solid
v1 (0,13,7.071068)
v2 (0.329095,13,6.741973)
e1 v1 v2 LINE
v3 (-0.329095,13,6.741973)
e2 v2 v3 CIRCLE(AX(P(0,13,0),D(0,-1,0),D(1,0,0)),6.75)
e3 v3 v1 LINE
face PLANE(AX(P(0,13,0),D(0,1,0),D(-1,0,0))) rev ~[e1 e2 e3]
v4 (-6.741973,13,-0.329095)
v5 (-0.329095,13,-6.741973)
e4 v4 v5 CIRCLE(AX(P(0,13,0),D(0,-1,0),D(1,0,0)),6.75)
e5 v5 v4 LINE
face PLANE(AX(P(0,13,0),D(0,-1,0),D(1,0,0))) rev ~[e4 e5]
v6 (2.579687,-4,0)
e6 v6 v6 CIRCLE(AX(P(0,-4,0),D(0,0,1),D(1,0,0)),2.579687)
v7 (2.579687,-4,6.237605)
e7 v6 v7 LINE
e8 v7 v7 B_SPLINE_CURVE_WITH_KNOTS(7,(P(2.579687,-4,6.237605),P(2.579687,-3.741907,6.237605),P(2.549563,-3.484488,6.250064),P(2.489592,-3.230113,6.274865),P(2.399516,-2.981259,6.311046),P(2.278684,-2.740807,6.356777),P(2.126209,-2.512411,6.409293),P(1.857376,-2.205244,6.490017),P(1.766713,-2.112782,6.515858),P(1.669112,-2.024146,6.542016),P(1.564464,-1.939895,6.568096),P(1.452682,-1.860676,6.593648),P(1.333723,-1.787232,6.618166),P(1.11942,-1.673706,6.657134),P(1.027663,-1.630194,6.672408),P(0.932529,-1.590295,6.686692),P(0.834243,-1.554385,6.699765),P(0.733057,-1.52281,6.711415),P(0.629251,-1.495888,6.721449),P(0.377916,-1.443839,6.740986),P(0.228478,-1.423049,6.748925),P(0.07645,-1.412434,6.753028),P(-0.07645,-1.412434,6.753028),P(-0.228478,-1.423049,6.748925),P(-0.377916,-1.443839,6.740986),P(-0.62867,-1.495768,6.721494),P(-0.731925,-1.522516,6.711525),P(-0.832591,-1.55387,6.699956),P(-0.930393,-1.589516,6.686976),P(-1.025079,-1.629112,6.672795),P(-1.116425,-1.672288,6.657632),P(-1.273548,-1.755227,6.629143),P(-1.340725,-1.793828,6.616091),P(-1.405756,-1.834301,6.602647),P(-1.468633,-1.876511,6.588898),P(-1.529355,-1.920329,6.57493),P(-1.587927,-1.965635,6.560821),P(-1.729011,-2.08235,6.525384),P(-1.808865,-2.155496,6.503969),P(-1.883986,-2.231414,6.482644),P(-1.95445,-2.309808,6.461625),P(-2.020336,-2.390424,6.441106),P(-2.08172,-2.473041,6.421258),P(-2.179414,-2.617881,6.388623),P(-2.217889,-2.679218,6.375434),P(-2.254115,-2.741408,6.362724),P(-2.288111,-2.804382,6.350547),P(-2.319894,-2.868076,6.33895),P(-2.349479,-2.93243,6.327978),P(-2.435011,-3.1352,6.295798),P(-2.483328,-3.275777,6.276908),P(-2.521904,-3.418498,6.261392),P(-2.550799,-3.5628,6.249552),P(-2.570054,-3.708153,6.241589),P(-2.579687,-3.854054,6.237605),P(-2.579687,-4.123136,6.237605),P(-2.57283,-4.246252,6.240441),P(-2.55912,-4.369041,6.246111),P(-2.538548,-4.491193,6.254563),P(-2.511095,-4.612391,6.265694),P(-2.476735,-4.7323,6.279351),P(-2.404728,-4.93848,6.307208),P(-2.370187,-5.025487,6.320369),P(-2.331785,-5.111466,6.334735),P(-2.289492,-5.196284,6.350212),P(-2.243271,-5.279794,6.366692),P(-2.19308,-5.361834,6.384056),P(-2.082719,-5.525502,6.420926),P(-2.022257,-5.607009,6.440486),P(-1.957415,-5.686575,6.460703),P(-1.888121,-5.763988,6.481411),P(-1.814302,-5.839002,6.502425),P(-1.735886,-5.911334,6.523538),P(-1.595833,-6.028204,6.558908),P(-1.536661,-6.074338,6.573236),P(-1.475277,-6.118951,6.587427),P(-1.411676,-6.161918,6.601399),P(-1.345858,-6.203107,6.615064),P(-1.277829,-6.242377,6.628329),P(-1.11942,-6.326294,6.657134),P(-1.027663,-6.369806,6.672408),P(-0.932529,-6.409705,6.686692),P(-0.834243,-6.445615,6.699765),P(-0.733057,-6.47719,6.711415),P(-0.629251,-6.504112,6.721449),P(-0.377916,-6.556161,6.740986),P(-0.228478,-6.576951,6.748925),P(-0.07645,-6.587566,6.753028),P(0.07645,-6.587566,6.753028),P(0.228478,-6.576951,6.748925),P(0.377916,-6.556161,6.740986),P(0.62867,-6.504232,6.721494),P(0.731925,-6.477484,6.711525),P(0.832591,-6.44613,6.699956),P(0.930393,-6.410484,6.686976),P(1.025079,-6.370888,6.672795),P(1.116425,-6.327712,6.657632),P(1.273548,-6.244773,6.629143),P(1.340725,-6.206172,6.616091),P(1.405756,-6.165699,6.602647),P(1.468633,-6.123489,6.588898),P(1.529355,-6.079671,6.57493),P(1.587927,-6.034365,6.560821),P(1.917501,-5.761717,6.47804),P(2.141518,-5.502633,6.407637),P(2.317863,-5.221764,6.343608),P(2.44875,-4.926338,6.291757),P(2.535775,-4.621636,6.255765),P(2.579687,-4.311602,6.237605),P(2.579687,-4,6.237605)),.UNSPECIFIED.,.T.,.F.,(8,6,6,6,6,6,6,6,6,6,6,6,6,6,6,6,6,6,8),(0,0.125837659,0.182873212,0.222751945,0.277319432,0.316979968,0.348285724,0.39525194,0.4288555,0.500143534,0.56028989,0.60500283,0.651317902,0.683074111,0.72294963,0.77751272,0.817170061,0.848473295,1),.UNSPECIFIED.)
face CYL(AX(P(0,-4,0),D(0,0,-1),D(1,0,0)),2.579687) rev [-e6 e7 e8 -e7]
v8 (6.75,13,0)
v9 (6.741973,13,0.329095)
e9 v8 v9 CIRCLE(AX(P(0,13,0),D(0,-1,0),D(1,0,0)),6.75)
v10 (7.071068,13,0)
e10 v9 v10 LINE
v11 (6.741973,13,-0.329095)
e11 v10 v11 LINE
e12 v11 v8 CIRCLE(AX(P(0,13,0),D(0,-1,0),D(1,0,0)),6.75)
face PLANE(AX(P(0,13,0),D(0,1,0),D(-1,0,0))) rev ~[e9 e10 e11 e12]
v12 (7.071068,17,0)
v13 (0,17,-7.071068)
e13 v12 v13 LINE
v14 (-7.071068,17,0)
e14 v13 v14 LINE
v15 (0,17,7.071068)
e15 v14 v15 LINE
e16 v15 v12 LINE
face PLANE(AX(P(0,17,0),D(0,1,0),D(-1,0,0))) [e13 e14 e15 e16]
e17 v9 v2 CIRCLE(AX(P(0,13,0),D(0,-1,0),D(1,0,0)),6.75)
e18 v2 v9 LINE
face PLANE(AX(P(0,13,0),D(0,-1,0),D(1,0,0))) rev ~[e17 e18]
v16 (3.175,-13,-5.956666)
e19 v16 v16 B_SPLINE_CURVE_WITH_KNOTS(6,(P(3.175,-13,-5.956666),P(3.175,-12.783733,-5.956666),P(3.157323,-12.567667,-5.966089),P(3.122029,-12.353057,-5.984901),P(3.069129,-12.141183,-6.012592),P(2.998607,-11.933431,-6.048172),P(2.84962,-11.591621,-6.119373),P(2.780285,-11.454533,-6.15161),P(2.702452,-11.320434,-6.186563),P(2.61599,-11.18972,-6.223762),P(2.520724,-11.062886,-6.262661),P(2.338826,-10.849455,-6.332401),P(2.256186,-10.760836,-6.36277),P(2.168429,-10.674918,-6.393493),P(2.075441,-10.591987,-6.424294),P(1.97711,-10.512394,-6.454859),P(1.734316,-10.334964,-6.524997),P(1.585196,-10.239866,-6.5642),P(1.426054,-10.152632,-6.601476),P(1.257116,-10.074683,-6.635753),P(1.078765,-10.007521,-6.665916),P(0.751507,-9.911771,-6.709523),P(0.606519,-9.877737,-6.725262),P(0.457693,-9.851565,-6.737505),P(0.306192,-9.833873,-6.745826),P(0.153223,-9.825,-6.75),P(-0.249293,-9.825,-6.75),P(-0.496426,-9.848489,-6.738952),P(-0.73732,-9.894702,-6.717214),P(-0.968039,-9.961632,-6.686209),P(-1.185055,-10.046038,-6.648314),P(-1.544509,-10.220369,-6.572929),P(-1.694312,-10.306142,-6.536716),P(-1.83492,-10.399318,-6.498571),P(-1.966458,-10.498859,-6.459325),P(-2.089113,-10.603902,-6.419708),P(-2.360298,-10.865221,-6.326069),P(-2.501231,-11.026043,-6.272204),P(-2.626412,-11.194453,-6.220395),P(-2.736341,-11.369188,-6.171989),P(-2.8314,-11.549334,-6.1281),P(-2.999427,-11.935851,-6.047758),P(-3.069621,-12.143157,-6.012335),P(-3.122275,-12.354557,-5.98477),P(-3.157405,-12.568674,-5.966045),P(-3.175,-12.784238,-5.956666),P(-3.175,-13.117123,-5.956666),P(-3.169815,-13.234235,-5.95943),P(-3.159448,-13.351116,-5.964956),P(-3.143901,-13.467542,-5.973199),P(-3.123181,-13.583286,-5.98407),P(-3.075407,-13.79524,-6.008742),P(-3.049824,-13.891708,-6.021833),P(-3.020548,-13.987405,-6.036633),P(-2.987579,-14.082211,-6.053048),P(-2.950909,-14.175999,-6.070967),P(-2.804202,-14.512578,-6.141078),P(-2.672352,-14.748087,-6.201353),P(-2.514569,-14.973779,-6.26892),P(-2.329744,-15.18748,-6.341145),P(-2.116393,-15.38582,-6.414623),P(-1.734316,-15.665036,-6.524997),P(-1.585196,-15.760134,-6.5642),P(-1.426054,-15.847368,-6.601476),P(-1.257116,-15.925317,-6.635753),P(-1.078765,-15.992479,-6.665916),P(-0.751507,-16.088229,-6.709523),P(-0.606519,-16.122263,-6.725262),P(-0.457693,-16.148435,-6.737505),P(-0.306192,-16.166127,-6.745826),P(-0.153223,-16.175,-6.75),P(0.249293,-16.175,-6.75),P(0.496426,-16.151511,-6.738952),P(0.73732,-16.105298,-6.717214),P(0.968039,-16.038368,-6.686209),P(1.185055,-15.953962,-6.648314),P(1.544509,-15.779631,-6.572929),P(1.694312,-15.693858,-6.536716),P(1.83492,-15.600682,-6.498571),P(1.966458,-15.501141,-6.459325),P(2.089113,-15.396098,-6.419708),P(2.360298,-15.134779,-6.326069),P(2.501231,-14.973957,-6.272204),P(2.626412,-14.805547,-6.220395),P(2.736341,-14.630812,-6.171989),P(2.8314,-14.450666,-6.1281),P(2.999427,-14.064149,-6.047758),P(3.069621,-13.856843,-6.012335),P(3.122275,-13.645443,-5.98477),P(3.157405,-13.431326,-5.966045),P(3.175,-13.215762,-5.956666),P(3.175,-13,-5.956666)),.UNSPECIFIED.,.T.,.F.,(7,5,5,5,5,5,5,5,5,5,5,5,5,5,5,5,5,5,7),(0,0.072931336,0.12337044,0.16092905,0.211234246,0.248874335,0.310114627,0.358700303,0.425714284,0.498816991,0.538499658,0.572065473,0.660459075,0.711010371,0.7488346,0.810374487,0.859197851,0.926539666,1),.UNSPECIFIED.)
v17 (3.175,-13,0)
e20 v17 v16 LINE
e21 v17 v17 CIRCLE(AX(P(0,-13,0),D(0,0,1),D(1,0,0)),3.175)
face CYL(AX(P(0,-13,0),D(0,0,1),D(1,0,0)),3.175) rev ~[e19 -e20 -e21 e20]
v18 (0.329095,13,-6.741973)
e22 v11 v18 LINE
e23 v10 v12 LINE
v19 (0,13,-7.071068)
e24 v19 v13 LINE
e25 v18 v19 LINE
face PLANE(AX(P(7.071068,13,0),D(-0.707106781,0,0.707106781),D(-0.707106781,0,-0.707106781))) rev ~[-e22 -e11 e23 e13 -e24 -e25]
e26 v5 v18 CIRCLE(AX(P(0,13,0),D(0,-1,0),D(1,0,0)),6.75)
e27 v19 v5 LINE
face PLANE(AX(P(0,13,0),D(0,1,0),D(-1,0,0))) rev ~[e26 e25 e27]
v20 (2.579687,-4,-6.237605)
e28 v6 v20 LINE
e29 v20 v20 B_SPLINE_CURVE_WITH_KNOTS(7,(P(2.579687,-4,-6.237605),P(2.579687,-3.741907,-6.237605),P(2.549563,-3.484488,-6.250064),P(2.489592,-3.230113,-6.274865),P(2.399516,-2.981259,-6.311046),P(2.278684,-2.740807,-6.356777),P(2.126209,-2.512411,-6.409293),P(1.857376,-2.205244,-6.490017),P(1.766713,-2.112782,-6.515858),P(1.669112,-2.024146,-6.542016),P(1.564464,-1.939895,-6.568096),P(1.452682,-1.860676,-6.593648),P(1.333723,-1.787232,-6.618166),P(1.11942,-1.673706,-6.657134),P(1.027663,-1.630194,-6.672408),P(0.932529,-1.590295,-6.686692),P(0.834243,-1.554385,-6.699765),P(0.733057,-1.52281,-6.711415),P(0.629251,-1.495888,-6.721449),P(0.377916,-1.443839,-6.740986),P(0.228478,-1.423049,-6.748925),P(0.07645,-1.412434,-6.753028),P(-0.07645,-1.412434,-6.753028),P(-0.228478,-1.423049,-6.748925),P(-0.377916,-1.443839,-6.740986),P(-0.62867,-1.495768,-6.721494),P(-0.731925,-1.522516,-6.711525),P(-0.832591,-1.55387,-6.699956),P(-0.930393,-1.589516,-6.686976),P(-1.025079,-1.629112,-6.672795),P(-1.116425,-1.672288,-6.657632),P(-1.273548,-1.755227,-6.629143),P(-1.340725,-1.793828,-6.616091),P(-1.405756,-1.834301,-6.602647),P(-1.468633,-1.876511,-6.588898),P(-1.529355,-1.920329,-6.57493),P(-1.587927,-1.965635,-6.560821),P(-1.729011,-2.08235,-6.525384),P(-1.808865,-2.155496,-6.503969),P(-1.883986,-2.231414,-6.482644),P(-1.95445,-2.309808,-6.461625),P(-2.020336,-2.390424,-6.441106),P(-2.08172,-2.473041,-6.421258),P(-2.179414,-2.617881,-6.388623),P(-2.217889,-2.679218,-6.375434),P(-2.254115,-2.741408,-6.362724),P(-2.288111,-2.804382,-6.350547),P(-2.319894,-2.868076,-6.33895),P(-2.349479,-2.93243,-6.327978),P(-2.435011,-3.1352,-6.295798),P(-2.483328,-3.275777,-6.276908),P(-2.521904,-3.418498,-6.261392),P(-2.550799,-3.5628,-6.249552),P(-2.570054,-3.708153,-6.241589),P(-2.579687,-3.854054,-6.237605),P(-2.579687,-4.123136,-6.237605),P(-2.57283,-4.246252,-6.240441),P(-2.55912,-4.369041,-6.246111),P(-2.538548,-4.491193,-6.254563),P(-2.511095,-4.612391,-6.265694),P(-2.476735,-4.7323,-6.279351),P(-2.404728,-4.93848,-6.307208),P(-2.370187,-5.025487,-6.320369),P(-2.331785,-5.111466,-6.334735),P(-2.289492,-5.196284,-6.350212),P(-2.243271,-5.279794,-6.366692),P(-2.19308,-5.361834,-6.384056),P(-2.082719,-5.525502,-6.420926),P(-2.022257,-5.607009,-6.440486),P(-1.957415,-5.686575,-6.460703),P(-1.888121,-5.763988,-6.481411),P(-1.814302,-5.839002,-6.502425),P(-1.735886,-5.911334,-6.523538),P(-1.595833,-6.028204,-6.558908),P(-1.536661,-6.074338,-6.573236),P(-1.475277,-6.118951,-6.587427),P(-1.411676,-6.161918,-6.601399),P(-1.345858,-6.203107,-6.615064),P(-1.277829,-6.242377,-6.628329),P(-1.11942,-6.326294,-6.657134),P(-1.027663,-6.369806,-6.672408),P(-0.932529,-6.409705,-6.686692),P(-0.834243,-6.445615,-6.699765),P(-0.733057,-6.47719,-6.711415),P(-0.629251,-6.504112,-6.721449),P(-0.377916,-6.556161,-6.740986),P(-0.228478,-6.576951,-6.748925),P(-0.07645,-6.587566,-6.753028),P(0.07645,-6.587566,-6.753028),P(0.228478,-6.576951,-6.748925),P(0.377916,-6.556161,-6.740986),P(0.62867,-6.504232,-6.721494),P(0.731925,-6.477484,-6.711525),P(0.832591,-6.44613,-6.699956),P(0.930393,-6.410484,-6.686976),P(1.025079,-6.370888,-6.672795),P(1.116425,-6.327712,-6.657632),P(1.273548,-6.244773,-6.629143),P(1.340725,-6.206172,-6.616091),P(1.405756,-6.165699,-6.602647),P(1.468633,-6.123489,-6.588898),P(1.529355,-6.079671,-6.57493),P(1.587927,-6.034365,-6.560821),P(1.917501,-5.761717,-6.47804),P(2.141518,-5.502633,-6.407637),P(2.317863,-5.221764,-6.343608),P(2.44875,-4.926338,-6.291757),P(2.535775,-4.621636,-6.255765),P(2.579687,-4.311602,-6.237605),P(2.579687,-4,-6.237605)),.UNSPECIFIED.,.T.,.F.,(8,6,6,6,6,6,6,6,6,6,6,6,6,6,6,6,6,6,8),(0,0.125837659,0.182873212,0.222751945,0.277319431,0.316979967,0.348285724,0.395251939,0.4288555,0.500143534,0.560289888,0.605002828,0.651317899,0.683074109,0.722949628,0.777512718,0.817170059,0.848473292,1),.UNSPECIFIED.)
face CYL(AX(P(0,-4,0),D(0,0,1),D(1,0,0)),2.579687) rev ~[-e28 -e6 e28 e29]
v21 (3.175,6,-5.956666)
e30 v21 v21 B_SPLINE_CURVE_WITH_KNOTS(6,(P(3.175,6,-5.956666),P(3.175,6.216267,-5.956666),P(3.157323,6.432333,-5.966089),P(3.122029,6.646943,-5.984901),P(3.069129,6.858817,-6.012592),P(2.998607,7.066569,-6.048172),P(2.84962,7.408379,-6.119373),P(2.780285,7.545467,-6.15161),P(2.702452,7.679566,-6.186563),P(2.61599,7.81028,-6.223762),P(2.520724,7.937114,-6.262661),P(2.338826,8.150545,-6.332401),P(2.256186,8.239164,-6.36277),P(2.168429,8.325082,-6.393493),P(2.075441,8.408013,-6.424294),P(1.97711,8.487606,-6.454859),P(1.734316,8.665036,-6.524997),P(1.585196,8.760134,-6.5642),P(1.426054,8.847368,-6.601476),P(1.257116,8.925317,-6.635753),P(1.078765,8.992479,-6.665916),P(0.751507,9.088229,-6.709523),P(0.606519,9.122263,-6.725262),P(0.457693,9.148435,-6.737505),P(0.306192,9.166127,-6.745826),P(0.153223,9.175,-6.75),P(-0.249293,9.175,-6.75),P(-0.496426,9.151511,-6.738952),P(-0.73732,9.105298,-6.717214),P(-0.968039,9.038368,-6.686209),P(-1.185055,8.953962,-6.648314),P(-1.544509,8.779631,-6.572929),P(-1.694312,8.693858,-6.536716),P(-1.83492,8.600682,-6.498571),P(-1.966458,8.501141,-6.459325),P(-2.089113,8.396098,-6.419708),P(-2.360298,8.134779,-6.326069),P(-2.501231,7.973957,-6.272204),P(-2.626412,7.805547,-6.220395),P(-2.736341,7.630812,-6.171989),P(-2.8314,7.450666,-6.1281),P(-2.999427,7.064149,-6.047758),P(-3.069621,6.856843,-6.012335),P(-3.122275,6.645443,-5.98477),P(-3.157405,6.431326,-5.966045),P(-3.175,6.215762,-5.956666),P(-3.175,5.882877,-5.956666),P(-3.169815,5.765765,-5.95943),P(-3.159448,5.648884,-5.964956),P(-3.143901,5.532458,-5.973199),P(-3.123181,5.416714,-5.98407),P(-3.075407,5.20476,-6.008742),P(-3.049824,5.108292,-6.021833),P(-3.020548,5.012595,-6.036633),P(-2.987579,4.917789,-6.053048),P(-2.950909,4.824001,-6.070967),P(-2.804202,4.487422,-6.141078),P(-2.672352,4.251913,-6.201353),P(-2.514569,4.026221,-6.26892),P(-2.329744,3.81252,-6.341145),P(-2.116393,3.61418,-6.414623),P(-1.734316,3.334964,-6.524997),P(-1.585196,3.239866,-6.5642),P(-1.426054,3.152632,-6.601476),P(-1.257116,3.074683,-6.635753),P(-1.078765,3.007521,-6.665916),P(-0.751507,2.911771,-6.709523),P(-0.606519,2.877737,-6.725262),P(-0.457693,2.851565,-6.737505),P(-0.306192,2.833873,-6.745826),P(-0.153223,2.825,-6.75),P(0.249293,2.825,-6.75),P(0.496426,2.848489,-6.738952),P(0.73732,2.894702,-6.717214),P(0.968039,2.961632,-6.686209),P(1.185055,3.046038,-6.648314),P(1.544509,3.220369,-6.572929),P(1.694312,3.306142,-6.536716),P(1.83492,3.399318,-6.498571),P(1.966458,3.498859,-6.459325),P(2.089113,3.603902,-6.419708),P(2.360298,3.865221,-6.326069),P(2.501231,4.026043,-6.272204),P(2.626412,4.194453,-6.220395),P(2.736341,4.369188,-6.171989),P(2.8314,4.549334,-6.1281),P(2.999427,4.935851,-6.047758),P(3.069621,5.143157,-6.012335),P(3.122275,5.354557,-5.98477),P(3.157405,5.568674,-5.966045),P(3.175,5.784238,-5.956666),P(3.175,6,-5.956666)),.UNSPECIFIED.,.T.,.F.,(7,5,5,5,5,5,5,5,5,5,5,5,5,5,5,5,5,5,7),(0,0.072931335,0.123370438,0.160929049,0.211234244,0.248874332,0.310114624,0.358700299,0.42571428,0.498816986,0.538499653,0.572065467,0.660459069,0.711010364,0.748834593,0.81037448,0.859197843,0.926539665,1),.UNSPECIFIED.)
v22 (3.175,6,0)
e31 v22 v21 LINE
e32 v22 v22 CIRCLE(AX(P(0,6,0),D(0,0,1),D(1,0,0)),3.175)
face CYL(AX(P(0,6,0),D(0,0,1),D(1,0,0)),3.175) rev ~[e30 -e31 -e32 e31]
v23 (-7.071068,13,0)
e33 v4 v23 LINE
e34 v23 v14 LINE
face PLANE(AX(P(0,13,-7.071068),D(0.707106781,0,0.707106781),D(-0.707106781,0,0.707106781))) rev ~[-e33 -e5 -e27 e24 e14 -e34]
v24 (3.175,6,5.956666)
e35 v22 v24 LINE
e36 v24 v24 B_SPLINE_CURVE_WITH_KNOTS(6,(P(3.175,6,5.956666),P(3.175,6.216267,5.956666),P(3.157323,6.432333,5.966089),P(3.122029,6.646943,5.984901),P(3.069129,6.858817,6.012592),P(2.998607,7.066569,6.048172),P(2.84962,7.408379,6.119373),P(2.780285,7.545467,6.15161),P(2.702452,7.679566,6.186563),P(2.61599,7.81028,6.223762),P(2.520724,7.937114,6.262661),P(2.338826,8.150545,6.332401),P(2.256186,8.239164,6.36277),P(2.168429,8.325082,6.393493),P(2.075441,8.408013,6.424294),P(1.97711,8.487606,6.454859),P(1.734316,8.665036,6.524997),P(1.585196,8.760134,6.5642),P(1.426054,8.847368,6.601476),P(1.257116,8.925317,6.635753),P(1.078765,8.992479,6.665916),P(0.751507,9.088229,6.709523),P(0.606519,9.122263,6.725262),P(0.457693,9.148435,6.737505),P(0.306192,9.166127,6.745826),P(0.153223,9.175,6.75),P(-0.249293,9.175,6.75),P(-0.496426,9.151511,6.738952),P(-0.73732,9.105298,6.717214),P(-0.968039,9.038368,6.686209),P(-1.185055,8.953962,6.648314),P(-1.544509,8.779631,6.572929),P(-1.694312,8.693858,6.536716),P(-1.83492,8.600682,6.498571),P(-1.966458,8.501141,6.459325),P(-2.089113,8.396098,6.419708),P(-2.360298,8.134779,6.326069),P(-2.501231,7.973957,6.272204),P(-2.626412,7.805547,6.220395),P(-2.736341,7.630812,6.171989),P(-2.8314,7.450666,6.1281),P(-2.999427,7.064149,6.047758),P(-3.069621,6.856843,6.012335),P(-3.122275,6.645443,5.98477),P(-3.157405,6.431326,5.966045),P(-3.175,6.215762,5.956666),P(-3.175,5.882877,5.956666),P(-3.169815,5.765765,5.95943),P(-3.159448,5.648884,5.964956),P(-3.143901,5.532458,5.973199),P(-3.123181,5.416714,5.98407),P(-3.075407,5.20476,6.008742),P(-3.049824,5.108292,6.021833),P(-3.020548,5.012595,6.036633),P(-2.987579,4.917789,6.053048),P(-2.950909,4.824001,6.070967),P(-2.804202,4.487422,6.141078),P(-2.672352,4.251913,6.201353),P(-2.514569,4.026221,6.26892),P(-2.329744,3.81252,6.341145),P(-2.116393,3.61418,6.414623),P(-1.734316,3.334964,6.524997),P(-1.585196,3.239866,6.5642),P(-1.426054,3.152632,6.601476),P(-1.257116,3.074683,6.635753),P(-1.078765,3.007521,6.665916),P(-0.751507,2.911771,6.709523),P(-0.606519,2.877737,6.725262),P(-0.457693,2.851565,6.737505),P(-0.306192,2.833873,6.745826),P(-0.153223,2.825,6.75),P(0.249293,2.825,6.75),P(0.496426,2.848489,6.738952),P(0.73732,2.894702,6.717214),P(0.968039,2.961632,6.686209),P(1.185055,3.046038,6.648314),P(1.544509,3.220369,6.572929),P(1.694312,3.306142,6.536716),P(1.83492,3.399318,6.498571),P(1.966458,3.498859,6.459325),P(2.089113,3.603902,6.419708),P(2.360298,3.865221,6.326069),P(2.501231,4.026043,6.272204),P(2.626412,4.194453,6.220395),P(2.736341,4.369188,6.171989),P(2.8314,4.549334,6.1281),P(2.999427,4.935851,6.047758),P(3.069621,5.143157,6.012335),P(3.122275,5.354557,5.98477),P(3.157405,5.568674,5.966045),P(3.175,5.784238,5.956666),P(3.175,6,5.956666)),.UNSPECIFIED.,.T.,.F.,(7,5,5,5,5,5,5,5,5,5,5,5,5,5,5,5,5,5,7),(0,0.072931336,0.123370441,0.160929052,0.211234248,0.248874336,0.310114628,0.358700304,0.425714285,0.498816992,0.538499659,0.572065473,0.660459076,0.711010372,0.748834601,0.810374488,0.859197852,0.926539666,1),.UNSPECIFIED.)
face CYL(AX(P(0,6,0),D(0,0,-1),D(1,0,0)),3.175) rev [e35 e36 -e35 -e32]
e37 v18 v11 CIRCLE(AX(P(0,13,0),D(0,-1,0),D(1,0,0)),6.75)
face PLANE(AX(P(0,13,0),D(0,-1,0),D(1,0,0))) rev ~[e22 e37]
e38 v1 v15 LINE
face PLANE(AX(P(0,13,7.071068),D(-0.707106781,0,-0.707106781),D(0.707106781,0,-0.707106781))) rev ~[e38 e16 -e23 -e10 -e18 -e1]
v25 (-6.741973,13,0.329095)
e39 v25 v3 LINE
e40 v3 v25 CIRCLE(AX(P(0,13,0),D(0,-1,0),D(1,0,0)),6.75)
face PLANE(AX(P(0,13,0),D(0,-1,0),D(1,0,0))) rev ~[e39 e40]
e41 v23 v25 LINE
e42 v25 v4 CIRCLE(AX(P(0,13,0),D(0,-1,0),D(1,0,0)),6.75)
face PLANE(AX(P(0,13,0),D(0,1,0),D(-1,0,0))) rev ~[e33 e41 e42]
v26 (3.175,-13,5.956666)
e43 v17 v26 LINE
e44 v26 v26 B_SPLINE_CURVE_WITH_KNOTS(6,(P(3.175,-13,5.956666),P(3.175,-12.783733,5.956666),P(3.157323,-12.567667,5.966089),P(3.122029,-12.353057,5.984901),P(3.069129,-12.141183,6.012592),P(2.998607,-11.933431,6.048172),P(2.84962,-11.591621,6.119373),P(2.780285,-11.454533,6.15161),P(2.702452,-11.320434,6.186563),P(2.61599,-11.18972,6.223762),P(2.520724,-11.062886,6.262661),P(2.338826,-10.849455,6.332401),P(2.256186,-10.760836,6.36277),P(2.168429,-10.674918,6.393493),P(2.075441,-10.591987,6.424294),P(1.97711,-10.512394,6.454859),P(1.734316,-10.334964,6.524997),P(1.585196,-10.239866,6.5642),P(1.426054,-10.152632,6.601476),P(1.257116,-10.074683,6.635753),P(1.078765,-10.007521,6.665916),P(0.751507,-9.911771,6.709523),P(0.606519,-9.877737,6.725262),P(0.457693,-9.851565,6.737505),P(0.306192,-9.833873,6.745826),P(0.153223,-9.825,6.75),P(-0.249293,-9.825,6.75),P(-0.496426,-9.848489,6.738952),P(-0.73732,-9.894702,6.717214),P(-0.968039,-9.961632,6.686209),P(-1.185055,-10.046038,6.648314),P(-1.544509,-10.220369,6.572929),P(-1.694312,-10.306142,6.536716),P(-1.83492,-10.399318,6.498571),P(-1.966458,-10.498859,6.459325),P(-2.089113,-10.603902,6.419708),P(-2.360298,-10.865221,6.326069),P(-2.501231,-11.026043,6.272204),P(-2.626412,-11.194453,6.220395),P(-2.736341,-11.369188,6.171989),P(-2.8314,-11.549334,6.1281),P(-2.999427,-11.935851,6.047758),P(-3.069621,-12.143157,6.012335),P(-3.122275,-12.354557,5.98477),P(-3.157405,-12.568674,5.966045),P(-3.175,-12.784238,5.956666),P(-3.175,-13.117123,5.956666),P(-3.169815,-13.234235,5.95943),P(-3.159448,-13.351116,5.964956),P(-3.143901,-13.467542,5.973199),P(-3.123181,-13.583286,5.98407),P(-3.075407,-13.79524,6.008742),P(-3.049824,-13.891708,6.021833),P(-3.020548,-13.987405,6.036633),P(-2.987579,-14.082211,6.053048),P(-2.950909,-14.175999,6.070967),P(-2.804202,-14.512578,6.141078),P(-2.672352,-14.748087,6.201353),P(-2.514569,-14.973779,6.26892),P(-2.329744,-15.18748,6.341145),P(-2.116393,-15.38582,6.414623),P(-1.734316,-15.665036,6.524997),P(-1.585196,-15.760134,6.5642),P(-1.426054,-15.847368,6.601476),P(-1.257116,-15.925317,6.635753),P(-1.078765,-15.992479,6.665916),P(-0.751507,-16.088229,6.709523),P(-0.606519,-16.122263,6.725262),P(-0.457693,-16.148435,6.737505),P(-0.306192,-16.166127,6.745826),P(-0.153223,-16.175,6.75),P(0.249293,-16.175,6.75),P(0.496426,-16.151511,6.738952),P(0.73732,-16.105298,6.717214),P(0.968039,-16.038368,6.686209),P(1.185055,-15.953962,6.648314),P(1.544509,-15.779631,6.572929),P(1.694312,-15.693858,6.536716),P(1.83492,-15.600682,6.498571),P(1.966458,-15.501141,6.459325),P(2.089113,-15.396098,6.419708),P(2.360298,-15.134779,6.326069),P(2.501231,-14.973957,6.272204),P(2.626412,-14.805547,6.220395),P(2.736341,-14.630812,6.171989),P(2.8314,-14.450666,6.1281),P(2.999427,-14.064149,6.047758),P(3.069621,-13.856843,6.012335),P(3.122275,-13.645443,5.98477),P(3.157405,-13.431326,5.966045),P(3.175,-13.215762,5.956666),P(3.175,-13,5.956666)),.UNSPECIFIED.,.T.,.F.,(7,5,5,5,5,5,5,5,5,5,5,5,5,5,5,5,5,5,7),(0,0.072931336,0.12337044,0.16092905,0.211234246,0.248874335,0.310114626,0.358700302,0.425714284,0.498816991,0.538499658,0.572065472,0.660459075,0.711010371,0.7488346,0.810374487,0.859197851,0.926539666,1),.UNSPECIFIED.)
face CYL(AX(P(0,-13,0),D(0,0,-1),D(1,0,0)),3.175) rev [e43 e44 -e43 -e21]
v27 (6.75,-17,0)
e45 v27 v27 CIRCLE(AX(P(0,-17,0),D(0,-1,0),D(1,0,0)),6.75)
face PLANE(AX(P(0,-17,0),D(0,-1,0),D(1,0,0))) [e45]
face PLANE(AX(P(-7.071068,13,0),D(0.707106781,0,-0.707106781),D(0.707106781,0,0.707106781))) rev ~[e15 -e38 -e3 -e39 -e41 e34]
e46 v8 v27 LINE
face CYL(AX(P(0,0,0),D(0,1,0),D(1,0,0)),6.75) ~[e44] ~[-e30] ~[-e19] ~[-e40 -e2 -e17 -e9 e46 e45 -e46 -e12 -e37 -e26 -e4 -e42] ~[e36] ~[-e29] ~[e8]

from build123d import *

# Parameters (mm, degrees)
F0_R          = 6.75
F1_DEPTH      = 13
F1_DEPTH_BACK = 17
F2_R          = 3.175
F2_R_2        = 2.5796875
F3_DEPTH      = 6.751
F3_DEPTH_BACK = 6.751
F5_DEPTH      = 4


with BuildPart() as f1:
    # F0 (on Front) → F1 (new body, two sides)
    with BuildSketch(Plane.XZ) as f1_sk:
        Circle(F0_R)
    extrude(amount=-F1_DEPTH)
    extrude(f1_sk.sketch, amount=F1_DEPTH_BACK)

    # F2 (on Top) → F3 (cut, two sides)
    with BuildSketch(Plane.XY) as f3_sk:
        with Locations((0, 6)):
            Circle(F2_R)
        with Locations((0, -4)):
            Circle(F2_R_2)
        with Locations((0, -13)):
            Circle(F2_R)
    extrude(amount=-F3_DEPTH, mode=Mode.SUBTRACT)
    extrude(f3_sk.sketch, amount=F3_DEPTH_BACK, mode=Mode.SUBTRACT)

    # F4 (on face) → F5 (join)
    with BuildSketch(Plane(origin=(0, 13, 0), x_dir=(-1, 0, 0), z_dir=(0, 1, 0))):
        Polygon((-7.0710678119, 0), (0, -7.0710678119), (7.0710678119, 0), (0, 7.0710678119), align=None)
    extrude(amount=F5_DEPTH)


solid = f1.part
